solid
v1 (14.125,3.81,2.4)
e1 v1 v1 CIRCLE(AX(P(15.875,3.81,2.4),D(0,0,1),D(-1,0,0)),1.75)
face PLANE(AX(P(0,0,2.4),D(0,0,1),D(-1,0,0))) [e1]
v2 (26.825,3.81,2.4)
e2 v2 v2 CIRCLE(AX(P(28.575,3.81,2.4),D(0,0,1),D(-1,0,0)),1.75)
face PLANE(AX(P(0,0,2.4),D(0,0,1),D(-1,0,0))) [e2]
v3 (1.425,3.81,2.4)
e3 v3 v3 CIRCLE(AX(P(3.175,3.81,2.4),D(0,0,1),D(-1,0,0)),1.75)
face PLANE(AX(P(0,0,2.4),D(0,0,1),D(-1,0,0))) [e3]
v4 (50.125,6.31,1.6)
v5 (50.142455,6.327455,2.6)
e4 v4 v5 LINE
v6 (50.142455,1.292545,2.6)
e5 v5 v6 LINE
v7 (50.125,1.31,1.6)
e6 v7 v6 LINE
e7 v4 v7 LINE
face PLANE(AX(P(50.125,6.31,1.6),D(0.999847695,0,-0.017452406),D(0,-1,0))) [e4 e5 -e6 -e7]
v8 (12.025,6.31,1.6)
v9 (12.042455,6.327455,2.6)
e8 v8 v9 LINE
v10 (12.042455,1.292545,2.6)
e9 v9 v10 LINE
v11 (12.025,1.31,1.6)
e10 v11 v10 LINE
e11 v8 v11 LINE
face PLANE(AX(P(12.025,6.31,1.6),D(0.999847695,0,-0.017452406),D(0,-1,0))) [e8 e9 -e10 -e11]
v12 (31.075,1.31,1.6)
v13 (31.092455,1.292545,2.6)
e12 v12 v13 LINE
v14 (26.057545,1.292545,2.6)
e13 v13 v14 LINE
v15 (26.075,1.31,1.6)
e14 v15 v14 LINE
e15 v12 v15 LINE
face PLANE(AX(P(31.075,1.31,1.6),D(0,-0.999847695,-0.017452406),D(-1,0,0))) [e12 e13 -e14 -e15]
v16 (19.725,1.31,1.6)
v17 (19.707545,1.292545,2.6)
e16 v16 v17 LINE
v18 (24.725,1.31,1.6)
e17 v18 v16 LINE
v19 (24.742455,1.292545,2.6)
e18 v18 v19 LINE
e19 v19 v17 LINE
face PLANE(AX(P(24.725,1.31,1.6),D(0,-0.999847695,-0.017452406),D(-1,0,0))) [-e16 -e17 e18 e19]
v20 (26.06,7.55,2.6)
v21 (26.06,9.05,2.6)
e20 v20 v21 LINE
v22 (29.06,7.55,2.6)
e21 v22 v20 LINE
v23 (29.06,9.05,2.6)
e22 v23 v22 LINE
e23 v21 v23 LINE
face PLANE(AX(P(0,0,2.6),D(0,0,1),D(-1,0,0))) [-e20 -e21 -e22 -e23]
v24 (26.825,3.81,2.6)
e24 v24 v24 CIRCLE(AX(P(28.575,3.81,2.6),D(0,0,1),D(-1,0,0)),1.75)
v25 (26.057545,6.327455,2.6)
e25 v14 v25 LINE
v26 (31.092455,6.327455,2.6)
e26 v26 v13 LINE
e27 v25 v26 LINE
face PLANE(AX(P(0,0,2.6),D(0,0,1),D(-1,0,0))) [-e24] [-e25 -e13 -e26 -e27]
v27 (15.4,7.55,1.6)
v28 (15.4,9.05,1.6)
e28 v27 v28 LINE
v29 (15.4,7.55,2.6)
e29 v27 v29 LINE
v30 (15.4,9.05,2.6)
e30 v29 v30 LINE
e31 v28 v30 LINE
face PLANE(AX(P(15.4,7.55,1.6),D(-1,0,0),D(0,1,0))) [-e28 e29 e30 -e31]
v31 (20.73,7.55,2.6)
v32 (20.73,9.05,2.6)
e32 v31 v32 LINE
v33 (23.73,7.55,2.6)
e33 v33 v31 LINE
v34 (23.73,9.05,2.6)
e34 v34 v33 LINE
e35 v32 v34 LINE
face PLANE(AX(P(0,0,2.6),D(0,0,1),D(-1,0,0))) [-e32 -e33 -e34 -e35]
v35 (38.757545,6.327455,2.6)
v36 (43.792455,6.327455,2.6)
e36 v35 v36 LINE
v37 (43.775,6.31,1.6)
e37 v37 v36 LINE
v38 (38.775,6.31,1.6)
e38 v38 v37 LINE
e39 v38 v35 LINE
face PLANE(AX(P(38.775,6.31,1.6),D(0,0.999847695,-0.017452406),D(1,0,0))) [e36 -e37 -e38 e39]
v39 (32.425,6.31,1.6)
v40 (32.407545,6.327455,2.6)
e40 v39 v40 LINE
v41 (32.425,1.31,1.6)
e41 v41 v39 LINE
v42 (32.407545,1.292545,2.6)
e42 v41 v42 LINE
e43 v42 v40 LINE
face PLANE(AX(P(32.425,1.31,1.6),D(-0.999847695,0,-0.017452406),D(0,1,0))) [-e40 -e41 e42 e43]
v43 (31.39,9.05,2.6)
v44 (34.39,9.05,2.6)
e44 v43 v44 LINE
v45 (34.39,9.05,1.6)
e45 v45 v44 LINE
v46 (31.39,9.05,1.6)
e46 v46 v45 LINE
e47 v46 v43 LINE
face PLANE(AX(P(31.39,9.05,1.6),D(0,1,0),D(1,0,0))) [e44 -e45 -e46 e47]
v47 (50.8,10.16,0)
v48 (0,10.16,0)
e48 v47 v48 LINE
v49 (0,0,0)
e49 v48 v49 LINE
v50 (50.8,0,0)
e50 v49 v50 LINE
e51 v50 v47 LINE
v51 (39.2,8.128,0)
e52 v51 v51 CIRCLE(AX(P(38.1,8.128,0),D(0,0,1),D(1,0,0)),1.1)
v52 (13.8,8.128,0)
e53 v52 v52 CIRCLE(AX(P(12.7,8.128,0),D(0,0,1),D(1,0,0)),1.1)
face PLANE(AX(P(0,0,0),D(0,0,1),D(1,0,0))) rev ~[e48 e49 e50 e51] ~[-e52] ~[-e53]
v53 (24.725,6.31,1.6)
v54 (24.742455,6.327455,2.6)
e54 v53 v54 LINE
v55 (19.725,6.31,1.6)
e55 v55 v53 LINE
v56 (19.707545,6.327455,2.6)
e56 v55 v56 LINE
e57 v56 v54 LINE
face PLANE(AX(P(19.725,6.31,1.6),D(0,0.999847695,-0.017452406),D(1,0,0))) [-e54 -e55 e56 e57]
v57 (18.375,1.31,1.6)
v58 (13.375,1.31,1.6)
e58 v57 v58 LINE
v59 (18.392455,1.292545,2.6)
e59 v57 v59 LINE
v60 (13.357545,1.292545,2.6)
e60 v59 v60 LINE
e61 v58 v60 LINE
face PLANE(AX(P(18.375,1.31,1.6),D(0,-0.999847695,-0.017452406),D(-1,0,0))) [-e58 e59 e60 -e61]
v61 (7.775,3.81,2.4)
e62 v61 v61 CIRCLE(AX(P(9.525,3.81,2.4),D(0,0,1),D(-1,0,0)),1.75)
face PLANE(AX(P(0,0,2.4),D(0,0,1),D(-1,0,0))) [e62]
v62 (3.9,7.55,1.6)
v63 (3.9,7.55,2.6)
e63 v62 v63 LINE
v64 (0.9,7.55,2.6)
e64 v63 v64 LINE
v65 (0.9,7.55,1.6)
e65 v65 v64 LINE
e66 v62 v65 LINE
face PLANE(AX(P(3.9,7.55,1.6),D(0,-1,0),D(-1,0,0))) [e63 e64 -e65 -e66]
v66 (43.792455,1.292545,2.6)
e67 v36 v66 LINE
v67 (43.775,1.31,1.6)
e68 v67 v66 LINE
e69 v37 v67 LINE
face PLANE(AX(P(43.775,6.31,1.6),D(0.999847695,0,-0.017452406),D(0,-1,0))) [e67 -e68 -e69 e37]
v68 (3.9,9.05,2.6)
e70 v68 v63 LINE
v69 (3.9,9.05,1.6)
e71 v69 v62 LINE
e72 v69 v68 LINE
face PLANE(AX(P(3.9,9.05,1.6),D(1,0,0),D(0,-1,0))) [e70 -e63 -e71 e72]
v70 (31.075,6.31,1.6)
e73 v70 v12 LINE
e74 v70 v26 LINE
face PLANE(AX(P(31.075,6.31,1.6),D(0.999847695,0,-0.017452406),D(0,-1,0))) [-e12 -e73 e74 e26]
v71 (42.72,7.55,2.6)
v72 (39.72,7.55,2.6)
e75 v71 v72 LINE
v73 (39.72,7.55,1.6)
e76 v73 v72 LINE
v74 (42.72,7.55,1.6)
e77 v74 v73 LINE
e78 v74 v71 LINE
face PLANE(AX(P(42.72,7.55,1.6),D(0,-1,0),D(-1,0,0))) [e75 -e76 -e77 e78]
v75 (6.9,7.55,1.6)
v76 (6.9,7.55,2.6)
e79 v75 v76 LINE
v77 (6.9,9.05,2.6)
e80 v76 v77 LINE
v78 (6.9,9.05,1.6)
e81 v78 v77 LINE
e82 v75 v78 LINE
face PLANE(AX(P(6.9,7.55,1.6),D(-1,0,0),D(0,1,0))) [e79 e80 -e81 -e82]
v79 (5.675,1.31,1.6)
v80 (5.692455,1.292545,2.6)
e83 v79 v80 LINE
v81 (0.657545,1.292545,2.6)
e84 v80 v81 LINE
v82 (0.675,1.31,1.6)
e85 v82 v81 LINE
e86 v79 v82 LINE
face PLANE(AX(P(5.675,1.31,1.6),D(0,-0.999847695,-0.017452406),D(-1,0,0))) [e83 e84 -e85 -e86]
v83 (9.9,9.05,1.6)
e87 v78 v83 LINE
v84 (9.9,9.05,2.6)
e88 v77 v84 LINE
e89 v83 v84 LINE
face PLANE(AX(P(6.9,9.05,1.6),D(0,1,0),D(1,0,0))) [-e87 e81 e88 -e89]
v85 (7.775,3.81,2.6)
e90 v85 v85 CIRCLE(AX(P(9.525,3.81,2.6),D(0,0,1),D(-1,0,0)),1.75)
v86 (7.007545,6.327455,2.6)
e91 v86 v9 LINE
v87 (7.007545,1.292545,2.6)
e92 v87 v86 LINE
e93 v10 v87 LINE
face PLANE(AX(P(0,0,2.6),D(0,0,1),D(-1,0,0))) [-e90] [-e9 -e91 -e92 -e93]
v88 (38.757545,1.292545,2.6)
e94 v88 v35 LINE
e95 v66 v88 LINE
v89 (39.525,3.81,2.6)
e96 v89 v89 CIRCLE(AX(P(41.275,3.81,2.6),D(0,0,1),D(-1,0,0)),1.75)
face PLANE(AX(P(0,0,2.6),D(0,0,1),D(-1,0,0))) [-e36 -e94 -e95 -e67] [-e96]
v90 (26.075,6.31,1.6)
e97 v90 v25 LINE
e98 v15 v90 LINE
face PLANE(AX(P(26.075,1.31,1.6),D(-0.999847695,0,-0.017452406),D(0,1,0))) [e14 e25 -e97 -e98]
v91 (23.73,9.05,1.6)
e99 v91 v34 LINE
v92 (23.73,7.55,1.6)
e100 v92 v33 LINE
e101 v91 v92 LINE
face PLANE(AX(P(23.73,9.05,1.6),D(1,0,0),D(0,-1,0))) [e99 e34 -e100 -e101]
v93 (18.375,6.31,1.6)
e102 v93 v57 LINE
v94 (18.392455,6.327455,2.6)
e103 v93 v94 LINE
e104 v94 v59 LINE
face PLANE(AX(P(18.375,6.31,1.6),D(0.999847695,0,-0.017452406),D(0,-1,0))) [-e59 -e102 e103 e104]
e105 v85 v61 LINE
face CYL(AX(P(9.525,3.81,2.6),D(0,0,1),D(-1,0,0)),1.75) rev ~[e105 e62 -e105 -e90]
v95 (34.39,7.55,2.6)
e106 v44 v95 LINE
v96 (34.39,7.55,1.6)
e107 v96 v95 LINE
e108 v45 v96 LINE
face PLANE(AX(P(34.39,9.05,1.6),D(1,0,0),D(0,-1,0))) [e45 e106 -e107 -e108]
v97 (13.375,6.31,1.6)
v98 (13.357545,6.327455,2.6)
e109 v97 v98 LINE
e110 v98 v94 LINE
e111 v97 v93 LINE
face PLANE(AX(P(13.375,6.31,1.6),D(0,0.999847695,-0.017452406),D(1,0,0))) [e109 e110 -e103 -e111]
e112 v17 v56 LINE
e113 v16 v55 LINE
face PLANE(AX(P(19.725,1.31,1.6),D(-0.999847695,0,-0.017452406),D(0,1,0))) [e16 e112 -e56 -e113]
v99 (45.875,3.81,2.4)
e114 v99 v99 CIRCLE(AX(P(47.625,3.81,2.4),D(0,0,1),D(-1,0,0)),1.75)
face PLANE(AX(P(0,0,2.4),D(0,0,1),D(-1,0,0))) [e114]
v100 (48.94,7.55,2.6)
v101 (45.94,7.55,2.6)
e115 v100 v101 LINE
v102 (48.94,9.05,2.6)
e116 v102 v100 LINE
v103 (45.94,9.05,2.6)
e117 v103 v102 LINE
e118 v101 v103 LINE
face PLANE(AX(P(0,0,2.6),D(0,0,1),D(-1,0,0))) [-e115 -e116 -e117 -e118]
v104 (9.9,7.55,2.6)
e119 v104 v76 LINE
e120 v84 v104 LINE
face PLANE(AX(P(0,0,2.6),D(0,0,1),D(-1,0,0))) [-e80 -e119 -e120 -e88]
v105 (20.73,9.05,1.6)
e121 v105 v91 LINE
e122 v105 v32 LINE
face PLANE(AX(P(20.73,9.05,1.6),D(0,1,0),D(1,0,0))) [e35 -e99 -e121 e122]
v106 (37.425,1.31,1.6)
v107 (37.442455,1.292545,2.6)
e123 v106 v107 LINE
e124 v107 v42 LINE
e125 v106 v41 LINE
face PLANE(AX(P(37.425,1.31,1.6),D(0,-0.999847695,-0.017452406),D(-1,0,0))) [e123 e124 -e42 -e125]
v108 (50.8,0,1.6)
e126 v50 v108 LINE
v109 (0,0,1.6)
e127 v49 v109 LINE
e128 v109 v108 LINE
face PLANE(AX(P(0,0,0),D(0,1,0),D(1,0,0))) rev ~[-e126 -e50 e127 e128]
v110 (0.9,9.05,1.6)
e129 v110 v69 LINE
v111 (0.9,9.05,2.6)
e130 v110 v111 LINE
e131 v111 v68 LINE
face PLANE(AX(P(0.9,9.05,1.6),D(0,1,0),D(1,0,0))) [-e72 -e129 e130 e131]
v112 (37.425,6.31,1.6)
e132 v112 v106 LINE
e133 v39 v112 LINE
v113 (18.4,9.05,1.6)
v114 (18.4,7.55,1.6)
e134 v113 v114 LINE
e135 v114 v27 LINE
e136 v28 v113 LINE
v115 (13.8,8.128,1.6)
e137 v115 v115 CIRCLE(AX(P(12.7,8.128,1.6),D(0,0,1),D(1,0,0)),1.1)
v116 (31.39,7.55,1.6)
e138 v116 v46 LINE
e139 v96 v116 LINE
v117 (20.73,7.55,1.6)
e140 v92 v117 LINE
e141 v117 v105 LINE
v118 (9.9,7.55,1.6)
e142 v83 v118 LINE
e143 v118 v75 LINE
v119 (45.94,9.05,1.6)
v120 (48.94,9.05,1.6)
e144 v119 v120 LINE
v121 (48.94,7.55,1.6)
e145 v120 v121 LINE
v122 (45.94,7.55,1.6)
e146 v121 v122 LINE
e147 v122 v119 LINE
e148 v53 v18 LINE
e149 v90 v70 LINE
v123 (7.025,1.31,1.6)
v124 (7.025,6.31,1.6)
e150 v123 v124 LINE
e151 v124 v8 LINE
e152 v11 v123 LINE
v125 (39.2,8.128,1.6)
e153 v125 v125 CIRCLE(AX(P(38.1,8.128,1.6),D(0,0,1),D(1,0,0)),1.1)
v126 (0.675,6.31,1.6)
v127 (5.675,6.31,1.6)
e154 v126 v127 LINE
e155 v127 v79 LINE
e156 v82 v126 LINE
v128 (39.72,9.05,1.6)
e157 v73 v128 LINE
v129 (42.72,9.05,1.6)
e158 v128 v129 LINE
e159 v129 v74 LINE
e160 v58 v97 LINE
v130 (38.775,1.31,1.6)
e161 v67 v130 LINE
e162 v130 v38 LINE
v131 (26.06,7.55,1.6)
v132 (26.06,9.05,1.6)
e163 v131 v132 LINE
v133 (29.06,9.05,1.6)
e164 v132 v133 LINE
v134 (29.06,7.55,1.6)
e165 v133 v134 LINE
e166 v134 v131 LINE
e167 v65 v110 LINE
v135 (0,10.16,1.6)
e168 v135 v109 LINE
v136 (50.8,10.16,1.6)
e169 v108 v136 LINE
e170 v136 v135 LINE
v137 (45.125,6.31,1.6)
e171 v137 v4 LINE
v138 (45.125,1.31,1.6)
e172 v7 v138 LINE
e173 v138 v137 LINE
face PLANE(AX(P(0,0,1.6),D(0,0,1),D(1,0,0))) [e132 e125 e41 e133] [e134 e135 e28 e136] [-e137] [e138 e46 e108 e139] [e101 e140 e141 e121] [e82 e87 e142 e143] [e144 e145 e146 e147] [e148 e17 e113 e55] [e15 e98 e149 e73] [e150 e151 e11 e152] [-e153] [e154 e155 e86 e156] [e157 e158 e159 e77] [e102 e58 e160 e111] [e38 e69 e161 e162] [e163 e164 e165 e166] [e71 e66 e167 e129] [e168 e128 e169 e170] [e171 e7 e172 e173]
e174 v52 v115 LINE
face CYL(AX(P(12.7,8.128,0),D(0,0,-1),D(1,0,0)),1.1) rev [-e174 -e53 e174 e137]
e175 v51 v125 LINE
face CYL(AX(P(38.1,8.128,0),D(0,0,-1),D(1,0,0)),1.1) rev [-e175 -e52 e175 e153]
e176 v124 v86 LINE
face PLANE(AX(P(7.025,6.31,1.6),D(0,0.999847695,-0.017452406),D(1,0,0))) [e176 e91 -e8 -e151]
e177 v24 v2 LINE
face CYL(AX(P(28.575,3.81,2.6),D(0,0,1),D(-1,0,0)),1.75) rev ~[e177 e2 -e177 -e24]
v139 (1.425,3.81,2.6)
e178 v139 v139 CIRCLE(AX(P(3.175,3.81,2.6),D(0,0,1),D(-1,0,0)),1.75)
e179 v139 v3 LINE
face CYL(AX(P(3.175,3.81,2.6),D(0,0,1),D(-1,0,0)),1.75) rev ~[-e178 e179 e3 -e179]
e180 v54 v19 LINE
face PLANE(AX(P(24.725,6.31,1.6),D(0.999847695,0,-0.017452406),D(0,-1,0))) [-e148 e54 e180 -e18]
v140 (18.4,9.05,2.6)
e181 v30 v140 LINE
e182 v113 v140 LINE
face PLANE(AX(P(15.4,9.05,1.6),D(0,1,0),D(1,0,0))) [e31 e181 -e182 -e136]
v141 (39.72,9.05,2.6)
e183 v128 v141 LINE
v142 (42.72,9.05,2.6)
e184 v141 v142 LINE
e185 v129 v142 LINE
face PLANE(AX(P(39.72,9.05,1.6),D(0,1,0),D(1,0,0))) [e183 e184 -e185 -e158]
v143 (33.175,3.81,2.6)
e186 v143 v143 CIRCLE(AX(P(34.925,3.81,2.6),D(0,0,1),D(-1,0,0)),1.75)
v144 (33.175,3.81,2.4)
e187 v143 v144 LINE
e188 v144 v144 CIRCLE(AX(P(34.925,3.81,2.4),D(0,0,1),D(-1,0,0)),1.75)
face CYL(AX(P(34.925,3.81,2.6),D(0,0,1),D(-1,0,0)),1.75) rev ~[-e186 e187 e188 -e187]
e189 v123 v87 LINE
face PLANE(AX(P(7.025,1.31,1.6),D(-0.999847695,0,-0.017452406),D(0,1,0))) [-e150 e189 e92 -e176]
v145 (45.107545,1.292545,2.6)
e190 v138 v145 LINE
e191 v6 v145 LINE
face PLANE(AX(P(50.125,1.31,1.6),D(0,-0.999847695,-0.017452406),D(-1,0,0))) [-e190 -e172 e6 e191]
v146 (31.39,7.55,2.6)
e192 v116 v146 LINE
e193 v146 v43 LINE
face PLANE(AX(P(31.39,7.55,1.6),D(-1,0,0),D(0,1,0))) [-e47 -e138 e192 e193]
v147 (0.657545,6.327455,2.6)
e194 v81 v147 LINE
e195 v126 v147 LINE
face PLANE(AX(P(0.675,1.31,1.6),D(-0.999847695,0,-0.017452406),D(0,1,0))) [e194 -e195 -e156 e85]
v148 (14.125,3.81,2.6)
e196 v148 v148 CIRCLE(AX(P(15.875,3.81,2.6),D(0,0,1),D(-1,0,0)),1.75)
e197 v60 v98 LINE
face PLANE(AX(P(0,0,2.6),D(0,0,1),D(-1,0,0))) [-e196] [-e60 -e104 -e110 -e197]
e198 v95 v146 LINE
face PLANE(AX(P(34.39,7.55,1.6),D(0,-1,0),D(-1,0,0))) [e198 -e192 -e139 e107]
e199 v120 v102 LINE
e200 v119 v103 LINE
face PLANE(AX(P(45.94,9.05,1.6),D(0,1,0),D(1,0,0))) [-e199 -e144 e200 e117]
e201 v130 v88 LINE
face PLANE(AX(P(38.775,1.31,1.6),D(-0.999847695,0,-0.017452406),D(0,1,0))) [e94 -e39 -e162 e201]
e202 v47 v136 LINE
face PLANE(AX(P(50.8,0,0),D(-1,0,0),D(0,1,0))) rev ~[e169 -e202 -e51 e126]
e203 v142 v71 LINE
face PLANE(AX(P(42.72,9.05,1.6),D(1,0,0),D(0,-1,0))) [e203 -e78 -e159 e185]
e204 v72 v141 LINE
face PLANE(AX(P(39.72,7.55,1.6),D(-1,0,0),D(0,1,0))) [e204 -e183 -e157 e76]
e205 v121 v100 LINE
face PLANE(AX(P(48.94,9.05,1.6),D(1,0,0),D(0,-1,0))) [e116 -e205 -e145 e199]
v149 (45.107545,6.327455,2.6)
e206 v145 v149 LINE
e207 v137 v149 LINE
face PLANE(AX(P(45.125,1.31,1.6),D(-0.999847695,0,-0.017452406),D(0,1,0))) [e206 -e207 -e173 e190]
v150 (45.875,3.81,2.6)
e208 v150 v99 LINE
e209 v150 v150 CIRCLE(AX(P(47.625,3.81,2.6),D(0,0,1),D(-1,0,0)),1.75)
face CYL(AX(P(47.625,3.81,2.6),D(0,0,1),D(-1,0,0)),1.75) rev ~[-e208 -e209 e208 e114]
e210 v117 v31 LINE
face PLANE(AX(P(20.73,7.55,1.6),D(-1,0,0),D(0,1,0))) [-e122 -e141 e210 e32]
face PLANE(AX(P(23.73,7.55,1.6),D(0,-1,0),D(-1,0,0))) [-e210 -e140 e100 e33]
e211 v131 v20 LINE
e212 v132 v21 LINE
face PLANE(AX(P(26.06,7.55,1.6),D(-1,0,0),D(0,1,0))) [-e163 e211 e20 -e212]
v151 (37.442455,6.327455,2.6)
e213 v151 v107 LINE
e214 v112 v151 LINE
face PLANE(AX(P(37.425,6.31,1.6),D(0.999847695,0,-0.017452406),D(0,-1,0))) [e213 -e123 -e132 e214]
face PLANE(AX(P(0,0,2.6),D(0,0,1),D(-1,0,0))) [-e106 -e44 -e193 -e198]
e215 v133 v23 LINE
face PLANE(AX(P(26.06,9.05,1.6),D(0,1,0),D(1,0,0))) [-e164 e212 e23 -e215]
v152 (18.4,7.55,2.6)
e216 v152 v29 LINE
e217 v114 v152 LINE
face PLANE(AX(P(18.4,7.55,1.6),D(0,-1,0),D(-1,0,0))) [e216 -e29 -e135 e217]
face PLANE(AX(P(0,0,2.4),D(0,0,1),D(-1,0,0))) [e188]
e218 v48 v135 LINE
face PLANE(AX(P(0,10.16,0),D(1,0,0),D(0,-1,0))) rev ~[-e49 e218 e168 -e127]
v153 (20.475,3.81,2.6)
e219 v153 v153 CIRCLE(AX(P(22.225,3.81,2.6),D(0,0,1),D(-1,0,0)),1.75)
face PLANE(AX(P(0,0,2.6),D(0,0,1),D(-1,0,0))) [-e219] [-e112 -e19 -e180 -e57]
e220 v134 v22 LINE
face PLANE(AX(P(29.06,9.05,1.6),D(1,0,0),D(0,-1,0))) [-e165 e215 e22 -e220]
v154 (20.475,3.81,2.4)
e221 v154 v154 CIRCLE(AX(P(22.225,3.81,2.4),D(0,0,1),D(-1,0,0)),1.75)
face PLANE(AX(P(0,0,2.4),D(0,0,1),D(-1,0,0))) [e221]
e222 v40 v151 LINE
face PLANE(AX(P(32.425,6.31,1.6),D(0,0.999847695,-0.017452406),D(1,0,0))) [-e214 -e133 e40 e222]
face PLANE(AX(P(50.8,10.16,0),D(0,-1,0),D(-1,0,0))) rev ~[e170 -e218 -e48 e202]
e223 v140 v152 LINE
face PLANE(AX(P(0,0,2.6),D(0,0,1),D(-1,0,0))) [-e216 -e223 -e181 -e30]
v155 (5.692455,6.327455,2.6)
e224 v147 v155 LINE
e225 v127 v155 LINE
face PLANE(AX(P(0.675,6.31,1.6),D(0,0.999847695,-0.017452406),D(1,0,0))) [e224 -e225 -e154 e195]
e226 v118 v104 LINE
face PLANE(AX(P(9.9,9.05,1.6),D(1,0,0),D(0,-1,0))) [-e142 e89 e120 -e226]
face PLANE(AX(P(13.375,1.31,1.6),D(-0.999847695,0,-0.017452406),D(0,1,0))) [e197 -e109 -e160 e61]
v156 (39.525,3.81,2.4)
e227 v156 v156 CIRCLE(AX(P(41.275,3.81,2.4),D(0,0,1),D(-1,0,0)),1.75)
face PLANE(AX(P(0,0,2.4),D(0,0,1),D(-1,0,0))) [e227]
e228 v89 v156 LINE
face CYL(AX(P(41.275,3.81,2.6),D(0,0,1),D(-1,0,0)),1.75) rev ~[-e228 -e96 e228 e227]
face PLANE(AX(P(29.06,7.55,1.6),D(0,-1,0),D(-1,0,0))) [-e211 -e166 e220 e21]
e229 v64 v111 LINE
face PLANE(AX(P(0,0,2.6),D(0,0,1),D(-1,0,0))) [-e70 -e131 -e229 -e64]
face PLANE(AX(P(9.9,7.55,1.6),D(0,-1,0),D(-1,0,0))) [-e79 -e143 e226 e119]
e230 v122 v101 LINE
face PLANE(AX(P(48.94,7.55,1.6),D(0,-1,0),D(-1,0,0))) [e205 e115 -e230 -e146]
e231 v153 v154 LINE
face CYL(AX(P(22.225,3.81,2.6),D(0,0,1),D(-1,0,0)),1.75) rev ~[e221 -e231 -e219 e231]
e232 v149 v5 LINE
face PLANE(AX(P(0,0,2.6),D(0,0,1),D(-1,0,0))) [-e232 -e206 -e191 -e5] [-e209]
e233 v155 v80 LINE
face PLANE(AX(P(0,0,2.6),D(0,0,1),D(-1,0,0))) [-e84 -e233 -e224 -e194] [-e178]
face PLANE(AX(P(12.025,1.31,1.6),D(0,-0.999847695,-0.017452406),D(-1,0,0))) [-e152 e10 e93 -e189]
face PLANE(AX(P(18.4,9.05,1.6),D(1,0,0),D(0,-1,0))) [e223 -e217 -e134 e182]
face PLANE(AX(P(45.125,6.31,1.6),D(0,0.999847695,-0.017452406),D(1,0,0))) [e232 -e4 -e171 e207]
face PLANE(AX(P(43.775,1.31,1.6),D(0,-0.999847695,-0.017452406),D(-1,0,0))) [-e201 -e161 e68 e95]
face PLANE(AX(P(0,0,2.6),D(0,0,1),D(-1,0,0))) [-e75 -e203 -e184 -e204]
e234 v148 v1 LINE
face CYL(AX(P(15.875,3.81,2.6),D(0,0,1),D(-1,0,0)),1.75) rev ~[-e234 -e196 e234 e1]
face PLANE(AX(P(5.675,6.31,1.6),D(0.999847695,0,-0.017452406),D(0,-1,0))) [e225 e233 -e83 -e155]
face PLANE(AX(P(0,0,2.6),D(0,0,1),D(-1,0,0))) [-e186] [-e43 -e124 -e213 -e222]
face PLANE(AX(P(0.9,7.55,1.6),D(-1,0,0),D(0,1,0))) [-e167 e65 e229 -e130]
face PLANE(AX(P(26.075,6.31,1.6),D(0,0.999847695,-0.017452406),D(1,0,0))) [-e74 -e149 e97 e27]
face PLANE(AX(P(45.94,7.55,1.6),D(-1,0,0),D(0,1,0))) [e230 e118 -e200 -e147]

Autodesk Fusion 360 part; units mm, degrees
sketch "Sketch1" plane through (0, 0, 0) normal (0, 0, 1) x (1, 0, 0)
  line L0 (0, 0) -> (50.8, 0)
  line L1 (50.8, 0) -> (50.8, 10.16)
  line L2 (50.8, 10.16) -> (0, 10.16)
  line L3 (0, 10.16) -> (0, 0)
  line L4 (25.4, 10.16) -> (25.4, 0) construction
  circle A0 centre (12.7, 8.128) radius 1.1
  circle A1 centre (38.1, 8.128) radius 1.1
  dimension "d1" = 50.8
  dimension "d2" = 10.16
  dimension "d3" = 2.2
  dimension "d4" = 2.2
  dimension "d5" = 12.7
  dimension "d6" = 38.1
  dimension "d7" = 8.128
  dimension "d8" = 8.128
extrude "Extrude1" add sketch "Sketch1" along normal blind 1.6
sketch "Sketch2" plane through (0, 0, 1.6) normal (0, 0, 1) x (-1, 0, 0)
  circle A0 centre (-12.7, -8.128) radius 1.1
  circle A1 centre (-38.1, -8.128) radius 1.1
  line L0 (0, -10.16) -> (0, 0)
  line L1 (0, 0) -> (-50.8, 0)
  line L2 (-50.8, 0) -> (-50.8, -10.16)
  line L3 (-50.8, -10.16) -> (0, -10.16)
  line L4 (-5.675, -1.31) -> (-0.675, -1.31)
  line L5 (-0.675, -1.31) -> (-0.675, -6.31)
  line L6 (-0.675, -6.31) -> (-5.675, -6.31)
  line L7 (-5.675, -6.31) -> (-5.675, -1.31)
  line L8 (-5.675, -1.31) -> (-0.675, -6.31) construction
  line L9 (-0.675, -1.31) -> (-5.675, -6.31) construction
  circle A2 centre (-3.175, -3.81) radius 1.75
  line L10 (-7.025, -1.31) -> (-7.025, -6.31)
  line L11 (-7.025, -6.31) -> (-12.025, -6.31)
  line L12 (-12.025, -1.31) -> (-7.025, -1.31)
  line L13 (-12.025, -6.31) -> (-12.025, -1.31)
  circle A3 centre (-9.525, -3.81) radius 1.75
  line L14 (-13.375, -1.31) -> (-13.375, -6.31)
  line L15 (-13.375, -6.31) -> (-18.375, -6.31)
  line L16 (-18.375, -1.31) -> (-13.375, -1.31)
  line L17 (-18.375, -6.31) -> (-18.375, -1.31)
  circle A4 centre (-15.875, -3.81) radius 1.75
  line L18 (-19.725, -1.31) -> (-19.725, -6.31)
  line L19 (-19.725, -6.31) -> (-24.725, -6.31)
  line L20 (-24.725, -1.31) -> (-19.725, -1.31)
  line L21 (-24.725, -6.31) -> (-24.725, -1.31)
  circle A5 centre (-22.225, -3.81) radius 1.75
  line L22 (-26.075, -1.31) -> (-26.075, -6.31)
  line L23 (-26.075, -6.31) -> (-31.075, -6.31)
  line L24 (-31.075, -1.31) -> (-26.075, -1.31)
  line L25 (-31.075, -6.31) -> (-31.075, -1.31)
  circle A6 centre (-28.575, -3.81) radius 1.75
  line L26 (-32.425, -1.31) -> (-32.425, -6.31)
  line L27 (-32.425, -6.31) -> (-37.425, -6.31)
  line L28 (-37.425, -1.31) -> (-32.425, -1.31)
  line L29 (-37.425, -6.31) -> (-37.425, -1.31)
  circle A7 centre (-34.925, -3.81) radius 1.75
  line L30 (-38.775, -1.31) -> (-38.775, -6.31)
  line L31 (-38.775, -6.31) -> (-43.775, -6.31)
  line L32 (-43.775, -1.31) -> (-38.775, -1.31)
  line L33 (-43.775, -6.31) -> (-43.775, -1.31)
  circle A8 centre (-41.275, -3.81) radius 1.75
  line L34 (-45.125, -1.31) -> (-45.125, -6.31)
  line L35 (-45.125, -6.31) -> (-50.125, -6.31)
  line L36 (-50.125, -1.31) -> (-45.125, -1.31)
  line L37 (-50.125, -6.31) -> (-50.125, -1.31)
  circle A9 centre (-47.625, -3.81) radius 1.75
  point P0 (-3.175, -3.81)
  dimension "d13" = 5
  dimension "d14" = 5
  dimension "d15" = 3.175
  dimension "d16" = 3.81
  dimension "d17" = 3.5
  dimension "d20" = -6.35
  dimension "d21" = 0
extrude "Extrude2" add sketch "Sketch2" along normal blind 1 draft 1 contours L4 L5 L6 L7 | A2 | L10 L11 L12 L13 | A3 | L14 L15 L16 L17 | A4 | L18 L19 L20 L21 | A5 | L22 L23 L24 L25 | A6 | L26 L27 L28 L29 | A7 | L30 L31 L32 L33 | A8 | L34 L35 L36 L37 | A9
extrude "Extrude3" cut sketch "Sketch2" against normal blind 0.2 from surface at 1 contours A2 | A3 | A4 | A5 | A6 | A7 | A8 | A9
sketch "Sketch3" plane through (0, 0, 1.6) normal (0, 0, 1) x (-1, 0, 0)
  line L0 (-50.125, -6.31) -> (-50.125, -1.31)
  line L1 (-50.125, -1.31) -> (-45.125, -1.31)
  line L2 (-45.125, -1.31) -> (-45.125, -6.31)
  line L3 (-45.125, -6.31) -> (-50.125, -6.31)
  line L4 (-24.725, -6.31) -> (-24.725, -1.31)
  line L5 (-24.725, -1.31) -> (-19.725, -1.31)
  line L6 (-19.725, -1.31) -> (-19.725, -6.31)
  line L7 (-19.725, -6.31) -> (-24.725, -6.31)
  line L8 (-5.675, -6.31) -> (-5.675, -1.31)
  line L9 (-5.675, -1.31) -> (-0.675, -1.31)
  line L10 (-0.675, -1.31) -> (-0.675, -6.31)
  line L11 (-0.675, -6.31) -> (-5.675, -6.31)
  line L12 (-31.075, -6.31) -> (-31.075, -1.31)
  line L13 (-31.075, -1.31) -> (-26.075, -1.31)
  line L14 (-26.075, -1.31) -> (-26.075, -6.31)
  line L15 (-26.075, -6.31) -> (-31.075, -6.31)
  line L16 (-43.775, -6.31) -> (-43.775, -1.31)
  line L17 (-43.775, -1.31) -> (-38.775, -1.31)
  line L18 (-38.775, -1.31) -> (-38.775, -6.31)
  line L19 (-38.775, -6.31) -> (-43.775, -6.31)
  line L20 (-18.375, -6.31) -> (-18.375, -1.31)
  line L21 (-18.375, -1.31) -> (-13.375, -1.31)
  line L22 (-13.375, -1.31) -> (-13.375, -6.31)
  line L23 (-13.375, -6.31) -> (-18.375, -6.31)
  line L24 (-12.025, -6.31) -> (-12.025, -1.31)
  line L25 (-12.025, -1.31) -> (-7.025, -1.31)
  line L26 (-7.025, -1.31) -> (-7.025, -6.31)
  line L27 (-7.025, -6.31) -> (-12.025, -6.31)
  line L28 (-37.425, -6.31) -> (-37.425, -1.31)
  line L29 (-37.425, -1.31) -> (-32.425, -1.31)
  line L30 (-32.425, -1.31) -> (-32.425, -6.31)
  line L31 (-32.425, -6.31) -> (-37.425, -6.31)
  circle A0 centre (-12.7, -8.128) radius 1.1
  circle A1 centre (-38.1, -8.128) radius 1.1
  line L32 (0, -10.16) -> (0, 0)
  line L33 (0, 0) -> (-50.8, 0)
  line L34 (-50.8, 0) -> (-50.8, -10.16)
  line L35 (-50.8, -10.16) -> (0, -10.16)
  line L36 (-0.9, -9.05) -> (-3.9, -9.05)
  line L37 (-3.9, -9.05) -> (-3.9, -7.55)
  line L38 (-3.9, -7.55) -> (-0.9, -7.55)
  line L39 (-0.9, -7.55) -> (-0.9, -9.05)
  line L40 (-2.4, -9.05) -> (-2.4, -7.55) construction
  line L41 (-3.9, -8.3) -> (-0.9, -8.3) construction
  line L42 (-6.9, -7.55) -> (-6.9, -9.05)
  line L43 (-6.9, -9.05) -> (-9.9, -9.05)
  line L44 (-9.9, -7.55) -> (-6.9, -7.55)
  line L45 (-9.9, -9.05) -> (-9.9, -7.55)
  line L46 (-15.4, -9.05) -> (-18.4, -9.05)
  line L47 (-18.4, -9.05) -> (-18.4, -7.55)
  line L48 (-18.4, -7.55) -> (-15.4, -7.55)
  line L49 (-15.4, -7.55) -> (-15.4, -9.05)
  line L50 (-16.9, -9.05) -> (-16.9, -7.55) construction
  line L51 (-18.4, -8.3) -> (-15.4, -8.3) construction
  line L52 (-23.73, -7.55) -> (-20.73, -7.55)
  line L53 (-20.73, -7.55) -> (-20.73, -9.05)
  line L54 (-20.73, -9.05) -> (-23.73, -9.05)
  line L55 (-23.73, -9.05) -> (-23.73, -7.55)
  line L56 (-29.06, -7.55) -> (-26.06, -7.55)
  line L57 (-26.06, -7.55) -> (-26.06, -9.05)
  line L58 (-26.06, -9.05) -> (-29.06, -9.05)
  line L59 (-29.06, -9.05) -> (-29.06, -7.55)
  line L60 (-34.39, -7.55) -> (-31.39, -7.55)
  line L61 (-31.39, -7.55) -> (-31.39, -9.05)
  line L62 (-31.39, -9.05) -> (-34.39, -9.05)
  line L63 (-34.39, -9.05) -> (-34.39, -7.55)
  line L64 (-39.72, -9.05) -> (-42.72, -9.05)
  line L65 (-42.72, -9.05) -> (-42.72, -7.55)
  line L66 (-42.72, -7.55) -> (-39.72, -7.55)
  line L67 (-39.72, -7.55) -> (-39.72, -9.05)
  line L68 (-41.22, -9.05) -> (-41.22, -7.55) construction
  line L69 (-39.72, -8.3) -> (-42.72, -8.3) construction
  line L70 (-32.89, -9.05) -> (-32.89, -7.55) construction
  line L71 (-45.94, -7.55) -> (-45.94, -9.05)
  line L72 (-45.94, -9.05) -> (-48.94, -9.05)
  line L73 (-48.94, -7.55) -> (-45.94, -7.55)
  line L74 (-48.94, -9.05) -> (-48.94, -7.55)
  dimension "d27" = 3
  dimension "d28" = 1.5
  dimension "d29" = 2.4
  dimension "d30" = 8.3
  dimension "d33" = -6
  dimension "d34" = 0
  dimension "d35" = 3
  dimension "d36" = 1.5
  dimension "d37" = 14.5
  dimension "d40" = -5.33
  dimension "d41" = 0
  dimension "d42" = 3
  dimension "d43" = 1.5
  dimension "d44" = 8.33
  dimension "d47" = -6.22
  dimension "d48" = 0
extrude "Extrude4" add sketch "Sketch3" along normal blind 1 contours L36 L37 L38 L39 | L42 L43 L44 L45 | L46 L47 L48 L49 | L52 L53 L54 L55 | L56 L57 L58 L59 | L60 L61 L62 L63 | L64 L65 L66 L67 | L71 L72 L73 L74
